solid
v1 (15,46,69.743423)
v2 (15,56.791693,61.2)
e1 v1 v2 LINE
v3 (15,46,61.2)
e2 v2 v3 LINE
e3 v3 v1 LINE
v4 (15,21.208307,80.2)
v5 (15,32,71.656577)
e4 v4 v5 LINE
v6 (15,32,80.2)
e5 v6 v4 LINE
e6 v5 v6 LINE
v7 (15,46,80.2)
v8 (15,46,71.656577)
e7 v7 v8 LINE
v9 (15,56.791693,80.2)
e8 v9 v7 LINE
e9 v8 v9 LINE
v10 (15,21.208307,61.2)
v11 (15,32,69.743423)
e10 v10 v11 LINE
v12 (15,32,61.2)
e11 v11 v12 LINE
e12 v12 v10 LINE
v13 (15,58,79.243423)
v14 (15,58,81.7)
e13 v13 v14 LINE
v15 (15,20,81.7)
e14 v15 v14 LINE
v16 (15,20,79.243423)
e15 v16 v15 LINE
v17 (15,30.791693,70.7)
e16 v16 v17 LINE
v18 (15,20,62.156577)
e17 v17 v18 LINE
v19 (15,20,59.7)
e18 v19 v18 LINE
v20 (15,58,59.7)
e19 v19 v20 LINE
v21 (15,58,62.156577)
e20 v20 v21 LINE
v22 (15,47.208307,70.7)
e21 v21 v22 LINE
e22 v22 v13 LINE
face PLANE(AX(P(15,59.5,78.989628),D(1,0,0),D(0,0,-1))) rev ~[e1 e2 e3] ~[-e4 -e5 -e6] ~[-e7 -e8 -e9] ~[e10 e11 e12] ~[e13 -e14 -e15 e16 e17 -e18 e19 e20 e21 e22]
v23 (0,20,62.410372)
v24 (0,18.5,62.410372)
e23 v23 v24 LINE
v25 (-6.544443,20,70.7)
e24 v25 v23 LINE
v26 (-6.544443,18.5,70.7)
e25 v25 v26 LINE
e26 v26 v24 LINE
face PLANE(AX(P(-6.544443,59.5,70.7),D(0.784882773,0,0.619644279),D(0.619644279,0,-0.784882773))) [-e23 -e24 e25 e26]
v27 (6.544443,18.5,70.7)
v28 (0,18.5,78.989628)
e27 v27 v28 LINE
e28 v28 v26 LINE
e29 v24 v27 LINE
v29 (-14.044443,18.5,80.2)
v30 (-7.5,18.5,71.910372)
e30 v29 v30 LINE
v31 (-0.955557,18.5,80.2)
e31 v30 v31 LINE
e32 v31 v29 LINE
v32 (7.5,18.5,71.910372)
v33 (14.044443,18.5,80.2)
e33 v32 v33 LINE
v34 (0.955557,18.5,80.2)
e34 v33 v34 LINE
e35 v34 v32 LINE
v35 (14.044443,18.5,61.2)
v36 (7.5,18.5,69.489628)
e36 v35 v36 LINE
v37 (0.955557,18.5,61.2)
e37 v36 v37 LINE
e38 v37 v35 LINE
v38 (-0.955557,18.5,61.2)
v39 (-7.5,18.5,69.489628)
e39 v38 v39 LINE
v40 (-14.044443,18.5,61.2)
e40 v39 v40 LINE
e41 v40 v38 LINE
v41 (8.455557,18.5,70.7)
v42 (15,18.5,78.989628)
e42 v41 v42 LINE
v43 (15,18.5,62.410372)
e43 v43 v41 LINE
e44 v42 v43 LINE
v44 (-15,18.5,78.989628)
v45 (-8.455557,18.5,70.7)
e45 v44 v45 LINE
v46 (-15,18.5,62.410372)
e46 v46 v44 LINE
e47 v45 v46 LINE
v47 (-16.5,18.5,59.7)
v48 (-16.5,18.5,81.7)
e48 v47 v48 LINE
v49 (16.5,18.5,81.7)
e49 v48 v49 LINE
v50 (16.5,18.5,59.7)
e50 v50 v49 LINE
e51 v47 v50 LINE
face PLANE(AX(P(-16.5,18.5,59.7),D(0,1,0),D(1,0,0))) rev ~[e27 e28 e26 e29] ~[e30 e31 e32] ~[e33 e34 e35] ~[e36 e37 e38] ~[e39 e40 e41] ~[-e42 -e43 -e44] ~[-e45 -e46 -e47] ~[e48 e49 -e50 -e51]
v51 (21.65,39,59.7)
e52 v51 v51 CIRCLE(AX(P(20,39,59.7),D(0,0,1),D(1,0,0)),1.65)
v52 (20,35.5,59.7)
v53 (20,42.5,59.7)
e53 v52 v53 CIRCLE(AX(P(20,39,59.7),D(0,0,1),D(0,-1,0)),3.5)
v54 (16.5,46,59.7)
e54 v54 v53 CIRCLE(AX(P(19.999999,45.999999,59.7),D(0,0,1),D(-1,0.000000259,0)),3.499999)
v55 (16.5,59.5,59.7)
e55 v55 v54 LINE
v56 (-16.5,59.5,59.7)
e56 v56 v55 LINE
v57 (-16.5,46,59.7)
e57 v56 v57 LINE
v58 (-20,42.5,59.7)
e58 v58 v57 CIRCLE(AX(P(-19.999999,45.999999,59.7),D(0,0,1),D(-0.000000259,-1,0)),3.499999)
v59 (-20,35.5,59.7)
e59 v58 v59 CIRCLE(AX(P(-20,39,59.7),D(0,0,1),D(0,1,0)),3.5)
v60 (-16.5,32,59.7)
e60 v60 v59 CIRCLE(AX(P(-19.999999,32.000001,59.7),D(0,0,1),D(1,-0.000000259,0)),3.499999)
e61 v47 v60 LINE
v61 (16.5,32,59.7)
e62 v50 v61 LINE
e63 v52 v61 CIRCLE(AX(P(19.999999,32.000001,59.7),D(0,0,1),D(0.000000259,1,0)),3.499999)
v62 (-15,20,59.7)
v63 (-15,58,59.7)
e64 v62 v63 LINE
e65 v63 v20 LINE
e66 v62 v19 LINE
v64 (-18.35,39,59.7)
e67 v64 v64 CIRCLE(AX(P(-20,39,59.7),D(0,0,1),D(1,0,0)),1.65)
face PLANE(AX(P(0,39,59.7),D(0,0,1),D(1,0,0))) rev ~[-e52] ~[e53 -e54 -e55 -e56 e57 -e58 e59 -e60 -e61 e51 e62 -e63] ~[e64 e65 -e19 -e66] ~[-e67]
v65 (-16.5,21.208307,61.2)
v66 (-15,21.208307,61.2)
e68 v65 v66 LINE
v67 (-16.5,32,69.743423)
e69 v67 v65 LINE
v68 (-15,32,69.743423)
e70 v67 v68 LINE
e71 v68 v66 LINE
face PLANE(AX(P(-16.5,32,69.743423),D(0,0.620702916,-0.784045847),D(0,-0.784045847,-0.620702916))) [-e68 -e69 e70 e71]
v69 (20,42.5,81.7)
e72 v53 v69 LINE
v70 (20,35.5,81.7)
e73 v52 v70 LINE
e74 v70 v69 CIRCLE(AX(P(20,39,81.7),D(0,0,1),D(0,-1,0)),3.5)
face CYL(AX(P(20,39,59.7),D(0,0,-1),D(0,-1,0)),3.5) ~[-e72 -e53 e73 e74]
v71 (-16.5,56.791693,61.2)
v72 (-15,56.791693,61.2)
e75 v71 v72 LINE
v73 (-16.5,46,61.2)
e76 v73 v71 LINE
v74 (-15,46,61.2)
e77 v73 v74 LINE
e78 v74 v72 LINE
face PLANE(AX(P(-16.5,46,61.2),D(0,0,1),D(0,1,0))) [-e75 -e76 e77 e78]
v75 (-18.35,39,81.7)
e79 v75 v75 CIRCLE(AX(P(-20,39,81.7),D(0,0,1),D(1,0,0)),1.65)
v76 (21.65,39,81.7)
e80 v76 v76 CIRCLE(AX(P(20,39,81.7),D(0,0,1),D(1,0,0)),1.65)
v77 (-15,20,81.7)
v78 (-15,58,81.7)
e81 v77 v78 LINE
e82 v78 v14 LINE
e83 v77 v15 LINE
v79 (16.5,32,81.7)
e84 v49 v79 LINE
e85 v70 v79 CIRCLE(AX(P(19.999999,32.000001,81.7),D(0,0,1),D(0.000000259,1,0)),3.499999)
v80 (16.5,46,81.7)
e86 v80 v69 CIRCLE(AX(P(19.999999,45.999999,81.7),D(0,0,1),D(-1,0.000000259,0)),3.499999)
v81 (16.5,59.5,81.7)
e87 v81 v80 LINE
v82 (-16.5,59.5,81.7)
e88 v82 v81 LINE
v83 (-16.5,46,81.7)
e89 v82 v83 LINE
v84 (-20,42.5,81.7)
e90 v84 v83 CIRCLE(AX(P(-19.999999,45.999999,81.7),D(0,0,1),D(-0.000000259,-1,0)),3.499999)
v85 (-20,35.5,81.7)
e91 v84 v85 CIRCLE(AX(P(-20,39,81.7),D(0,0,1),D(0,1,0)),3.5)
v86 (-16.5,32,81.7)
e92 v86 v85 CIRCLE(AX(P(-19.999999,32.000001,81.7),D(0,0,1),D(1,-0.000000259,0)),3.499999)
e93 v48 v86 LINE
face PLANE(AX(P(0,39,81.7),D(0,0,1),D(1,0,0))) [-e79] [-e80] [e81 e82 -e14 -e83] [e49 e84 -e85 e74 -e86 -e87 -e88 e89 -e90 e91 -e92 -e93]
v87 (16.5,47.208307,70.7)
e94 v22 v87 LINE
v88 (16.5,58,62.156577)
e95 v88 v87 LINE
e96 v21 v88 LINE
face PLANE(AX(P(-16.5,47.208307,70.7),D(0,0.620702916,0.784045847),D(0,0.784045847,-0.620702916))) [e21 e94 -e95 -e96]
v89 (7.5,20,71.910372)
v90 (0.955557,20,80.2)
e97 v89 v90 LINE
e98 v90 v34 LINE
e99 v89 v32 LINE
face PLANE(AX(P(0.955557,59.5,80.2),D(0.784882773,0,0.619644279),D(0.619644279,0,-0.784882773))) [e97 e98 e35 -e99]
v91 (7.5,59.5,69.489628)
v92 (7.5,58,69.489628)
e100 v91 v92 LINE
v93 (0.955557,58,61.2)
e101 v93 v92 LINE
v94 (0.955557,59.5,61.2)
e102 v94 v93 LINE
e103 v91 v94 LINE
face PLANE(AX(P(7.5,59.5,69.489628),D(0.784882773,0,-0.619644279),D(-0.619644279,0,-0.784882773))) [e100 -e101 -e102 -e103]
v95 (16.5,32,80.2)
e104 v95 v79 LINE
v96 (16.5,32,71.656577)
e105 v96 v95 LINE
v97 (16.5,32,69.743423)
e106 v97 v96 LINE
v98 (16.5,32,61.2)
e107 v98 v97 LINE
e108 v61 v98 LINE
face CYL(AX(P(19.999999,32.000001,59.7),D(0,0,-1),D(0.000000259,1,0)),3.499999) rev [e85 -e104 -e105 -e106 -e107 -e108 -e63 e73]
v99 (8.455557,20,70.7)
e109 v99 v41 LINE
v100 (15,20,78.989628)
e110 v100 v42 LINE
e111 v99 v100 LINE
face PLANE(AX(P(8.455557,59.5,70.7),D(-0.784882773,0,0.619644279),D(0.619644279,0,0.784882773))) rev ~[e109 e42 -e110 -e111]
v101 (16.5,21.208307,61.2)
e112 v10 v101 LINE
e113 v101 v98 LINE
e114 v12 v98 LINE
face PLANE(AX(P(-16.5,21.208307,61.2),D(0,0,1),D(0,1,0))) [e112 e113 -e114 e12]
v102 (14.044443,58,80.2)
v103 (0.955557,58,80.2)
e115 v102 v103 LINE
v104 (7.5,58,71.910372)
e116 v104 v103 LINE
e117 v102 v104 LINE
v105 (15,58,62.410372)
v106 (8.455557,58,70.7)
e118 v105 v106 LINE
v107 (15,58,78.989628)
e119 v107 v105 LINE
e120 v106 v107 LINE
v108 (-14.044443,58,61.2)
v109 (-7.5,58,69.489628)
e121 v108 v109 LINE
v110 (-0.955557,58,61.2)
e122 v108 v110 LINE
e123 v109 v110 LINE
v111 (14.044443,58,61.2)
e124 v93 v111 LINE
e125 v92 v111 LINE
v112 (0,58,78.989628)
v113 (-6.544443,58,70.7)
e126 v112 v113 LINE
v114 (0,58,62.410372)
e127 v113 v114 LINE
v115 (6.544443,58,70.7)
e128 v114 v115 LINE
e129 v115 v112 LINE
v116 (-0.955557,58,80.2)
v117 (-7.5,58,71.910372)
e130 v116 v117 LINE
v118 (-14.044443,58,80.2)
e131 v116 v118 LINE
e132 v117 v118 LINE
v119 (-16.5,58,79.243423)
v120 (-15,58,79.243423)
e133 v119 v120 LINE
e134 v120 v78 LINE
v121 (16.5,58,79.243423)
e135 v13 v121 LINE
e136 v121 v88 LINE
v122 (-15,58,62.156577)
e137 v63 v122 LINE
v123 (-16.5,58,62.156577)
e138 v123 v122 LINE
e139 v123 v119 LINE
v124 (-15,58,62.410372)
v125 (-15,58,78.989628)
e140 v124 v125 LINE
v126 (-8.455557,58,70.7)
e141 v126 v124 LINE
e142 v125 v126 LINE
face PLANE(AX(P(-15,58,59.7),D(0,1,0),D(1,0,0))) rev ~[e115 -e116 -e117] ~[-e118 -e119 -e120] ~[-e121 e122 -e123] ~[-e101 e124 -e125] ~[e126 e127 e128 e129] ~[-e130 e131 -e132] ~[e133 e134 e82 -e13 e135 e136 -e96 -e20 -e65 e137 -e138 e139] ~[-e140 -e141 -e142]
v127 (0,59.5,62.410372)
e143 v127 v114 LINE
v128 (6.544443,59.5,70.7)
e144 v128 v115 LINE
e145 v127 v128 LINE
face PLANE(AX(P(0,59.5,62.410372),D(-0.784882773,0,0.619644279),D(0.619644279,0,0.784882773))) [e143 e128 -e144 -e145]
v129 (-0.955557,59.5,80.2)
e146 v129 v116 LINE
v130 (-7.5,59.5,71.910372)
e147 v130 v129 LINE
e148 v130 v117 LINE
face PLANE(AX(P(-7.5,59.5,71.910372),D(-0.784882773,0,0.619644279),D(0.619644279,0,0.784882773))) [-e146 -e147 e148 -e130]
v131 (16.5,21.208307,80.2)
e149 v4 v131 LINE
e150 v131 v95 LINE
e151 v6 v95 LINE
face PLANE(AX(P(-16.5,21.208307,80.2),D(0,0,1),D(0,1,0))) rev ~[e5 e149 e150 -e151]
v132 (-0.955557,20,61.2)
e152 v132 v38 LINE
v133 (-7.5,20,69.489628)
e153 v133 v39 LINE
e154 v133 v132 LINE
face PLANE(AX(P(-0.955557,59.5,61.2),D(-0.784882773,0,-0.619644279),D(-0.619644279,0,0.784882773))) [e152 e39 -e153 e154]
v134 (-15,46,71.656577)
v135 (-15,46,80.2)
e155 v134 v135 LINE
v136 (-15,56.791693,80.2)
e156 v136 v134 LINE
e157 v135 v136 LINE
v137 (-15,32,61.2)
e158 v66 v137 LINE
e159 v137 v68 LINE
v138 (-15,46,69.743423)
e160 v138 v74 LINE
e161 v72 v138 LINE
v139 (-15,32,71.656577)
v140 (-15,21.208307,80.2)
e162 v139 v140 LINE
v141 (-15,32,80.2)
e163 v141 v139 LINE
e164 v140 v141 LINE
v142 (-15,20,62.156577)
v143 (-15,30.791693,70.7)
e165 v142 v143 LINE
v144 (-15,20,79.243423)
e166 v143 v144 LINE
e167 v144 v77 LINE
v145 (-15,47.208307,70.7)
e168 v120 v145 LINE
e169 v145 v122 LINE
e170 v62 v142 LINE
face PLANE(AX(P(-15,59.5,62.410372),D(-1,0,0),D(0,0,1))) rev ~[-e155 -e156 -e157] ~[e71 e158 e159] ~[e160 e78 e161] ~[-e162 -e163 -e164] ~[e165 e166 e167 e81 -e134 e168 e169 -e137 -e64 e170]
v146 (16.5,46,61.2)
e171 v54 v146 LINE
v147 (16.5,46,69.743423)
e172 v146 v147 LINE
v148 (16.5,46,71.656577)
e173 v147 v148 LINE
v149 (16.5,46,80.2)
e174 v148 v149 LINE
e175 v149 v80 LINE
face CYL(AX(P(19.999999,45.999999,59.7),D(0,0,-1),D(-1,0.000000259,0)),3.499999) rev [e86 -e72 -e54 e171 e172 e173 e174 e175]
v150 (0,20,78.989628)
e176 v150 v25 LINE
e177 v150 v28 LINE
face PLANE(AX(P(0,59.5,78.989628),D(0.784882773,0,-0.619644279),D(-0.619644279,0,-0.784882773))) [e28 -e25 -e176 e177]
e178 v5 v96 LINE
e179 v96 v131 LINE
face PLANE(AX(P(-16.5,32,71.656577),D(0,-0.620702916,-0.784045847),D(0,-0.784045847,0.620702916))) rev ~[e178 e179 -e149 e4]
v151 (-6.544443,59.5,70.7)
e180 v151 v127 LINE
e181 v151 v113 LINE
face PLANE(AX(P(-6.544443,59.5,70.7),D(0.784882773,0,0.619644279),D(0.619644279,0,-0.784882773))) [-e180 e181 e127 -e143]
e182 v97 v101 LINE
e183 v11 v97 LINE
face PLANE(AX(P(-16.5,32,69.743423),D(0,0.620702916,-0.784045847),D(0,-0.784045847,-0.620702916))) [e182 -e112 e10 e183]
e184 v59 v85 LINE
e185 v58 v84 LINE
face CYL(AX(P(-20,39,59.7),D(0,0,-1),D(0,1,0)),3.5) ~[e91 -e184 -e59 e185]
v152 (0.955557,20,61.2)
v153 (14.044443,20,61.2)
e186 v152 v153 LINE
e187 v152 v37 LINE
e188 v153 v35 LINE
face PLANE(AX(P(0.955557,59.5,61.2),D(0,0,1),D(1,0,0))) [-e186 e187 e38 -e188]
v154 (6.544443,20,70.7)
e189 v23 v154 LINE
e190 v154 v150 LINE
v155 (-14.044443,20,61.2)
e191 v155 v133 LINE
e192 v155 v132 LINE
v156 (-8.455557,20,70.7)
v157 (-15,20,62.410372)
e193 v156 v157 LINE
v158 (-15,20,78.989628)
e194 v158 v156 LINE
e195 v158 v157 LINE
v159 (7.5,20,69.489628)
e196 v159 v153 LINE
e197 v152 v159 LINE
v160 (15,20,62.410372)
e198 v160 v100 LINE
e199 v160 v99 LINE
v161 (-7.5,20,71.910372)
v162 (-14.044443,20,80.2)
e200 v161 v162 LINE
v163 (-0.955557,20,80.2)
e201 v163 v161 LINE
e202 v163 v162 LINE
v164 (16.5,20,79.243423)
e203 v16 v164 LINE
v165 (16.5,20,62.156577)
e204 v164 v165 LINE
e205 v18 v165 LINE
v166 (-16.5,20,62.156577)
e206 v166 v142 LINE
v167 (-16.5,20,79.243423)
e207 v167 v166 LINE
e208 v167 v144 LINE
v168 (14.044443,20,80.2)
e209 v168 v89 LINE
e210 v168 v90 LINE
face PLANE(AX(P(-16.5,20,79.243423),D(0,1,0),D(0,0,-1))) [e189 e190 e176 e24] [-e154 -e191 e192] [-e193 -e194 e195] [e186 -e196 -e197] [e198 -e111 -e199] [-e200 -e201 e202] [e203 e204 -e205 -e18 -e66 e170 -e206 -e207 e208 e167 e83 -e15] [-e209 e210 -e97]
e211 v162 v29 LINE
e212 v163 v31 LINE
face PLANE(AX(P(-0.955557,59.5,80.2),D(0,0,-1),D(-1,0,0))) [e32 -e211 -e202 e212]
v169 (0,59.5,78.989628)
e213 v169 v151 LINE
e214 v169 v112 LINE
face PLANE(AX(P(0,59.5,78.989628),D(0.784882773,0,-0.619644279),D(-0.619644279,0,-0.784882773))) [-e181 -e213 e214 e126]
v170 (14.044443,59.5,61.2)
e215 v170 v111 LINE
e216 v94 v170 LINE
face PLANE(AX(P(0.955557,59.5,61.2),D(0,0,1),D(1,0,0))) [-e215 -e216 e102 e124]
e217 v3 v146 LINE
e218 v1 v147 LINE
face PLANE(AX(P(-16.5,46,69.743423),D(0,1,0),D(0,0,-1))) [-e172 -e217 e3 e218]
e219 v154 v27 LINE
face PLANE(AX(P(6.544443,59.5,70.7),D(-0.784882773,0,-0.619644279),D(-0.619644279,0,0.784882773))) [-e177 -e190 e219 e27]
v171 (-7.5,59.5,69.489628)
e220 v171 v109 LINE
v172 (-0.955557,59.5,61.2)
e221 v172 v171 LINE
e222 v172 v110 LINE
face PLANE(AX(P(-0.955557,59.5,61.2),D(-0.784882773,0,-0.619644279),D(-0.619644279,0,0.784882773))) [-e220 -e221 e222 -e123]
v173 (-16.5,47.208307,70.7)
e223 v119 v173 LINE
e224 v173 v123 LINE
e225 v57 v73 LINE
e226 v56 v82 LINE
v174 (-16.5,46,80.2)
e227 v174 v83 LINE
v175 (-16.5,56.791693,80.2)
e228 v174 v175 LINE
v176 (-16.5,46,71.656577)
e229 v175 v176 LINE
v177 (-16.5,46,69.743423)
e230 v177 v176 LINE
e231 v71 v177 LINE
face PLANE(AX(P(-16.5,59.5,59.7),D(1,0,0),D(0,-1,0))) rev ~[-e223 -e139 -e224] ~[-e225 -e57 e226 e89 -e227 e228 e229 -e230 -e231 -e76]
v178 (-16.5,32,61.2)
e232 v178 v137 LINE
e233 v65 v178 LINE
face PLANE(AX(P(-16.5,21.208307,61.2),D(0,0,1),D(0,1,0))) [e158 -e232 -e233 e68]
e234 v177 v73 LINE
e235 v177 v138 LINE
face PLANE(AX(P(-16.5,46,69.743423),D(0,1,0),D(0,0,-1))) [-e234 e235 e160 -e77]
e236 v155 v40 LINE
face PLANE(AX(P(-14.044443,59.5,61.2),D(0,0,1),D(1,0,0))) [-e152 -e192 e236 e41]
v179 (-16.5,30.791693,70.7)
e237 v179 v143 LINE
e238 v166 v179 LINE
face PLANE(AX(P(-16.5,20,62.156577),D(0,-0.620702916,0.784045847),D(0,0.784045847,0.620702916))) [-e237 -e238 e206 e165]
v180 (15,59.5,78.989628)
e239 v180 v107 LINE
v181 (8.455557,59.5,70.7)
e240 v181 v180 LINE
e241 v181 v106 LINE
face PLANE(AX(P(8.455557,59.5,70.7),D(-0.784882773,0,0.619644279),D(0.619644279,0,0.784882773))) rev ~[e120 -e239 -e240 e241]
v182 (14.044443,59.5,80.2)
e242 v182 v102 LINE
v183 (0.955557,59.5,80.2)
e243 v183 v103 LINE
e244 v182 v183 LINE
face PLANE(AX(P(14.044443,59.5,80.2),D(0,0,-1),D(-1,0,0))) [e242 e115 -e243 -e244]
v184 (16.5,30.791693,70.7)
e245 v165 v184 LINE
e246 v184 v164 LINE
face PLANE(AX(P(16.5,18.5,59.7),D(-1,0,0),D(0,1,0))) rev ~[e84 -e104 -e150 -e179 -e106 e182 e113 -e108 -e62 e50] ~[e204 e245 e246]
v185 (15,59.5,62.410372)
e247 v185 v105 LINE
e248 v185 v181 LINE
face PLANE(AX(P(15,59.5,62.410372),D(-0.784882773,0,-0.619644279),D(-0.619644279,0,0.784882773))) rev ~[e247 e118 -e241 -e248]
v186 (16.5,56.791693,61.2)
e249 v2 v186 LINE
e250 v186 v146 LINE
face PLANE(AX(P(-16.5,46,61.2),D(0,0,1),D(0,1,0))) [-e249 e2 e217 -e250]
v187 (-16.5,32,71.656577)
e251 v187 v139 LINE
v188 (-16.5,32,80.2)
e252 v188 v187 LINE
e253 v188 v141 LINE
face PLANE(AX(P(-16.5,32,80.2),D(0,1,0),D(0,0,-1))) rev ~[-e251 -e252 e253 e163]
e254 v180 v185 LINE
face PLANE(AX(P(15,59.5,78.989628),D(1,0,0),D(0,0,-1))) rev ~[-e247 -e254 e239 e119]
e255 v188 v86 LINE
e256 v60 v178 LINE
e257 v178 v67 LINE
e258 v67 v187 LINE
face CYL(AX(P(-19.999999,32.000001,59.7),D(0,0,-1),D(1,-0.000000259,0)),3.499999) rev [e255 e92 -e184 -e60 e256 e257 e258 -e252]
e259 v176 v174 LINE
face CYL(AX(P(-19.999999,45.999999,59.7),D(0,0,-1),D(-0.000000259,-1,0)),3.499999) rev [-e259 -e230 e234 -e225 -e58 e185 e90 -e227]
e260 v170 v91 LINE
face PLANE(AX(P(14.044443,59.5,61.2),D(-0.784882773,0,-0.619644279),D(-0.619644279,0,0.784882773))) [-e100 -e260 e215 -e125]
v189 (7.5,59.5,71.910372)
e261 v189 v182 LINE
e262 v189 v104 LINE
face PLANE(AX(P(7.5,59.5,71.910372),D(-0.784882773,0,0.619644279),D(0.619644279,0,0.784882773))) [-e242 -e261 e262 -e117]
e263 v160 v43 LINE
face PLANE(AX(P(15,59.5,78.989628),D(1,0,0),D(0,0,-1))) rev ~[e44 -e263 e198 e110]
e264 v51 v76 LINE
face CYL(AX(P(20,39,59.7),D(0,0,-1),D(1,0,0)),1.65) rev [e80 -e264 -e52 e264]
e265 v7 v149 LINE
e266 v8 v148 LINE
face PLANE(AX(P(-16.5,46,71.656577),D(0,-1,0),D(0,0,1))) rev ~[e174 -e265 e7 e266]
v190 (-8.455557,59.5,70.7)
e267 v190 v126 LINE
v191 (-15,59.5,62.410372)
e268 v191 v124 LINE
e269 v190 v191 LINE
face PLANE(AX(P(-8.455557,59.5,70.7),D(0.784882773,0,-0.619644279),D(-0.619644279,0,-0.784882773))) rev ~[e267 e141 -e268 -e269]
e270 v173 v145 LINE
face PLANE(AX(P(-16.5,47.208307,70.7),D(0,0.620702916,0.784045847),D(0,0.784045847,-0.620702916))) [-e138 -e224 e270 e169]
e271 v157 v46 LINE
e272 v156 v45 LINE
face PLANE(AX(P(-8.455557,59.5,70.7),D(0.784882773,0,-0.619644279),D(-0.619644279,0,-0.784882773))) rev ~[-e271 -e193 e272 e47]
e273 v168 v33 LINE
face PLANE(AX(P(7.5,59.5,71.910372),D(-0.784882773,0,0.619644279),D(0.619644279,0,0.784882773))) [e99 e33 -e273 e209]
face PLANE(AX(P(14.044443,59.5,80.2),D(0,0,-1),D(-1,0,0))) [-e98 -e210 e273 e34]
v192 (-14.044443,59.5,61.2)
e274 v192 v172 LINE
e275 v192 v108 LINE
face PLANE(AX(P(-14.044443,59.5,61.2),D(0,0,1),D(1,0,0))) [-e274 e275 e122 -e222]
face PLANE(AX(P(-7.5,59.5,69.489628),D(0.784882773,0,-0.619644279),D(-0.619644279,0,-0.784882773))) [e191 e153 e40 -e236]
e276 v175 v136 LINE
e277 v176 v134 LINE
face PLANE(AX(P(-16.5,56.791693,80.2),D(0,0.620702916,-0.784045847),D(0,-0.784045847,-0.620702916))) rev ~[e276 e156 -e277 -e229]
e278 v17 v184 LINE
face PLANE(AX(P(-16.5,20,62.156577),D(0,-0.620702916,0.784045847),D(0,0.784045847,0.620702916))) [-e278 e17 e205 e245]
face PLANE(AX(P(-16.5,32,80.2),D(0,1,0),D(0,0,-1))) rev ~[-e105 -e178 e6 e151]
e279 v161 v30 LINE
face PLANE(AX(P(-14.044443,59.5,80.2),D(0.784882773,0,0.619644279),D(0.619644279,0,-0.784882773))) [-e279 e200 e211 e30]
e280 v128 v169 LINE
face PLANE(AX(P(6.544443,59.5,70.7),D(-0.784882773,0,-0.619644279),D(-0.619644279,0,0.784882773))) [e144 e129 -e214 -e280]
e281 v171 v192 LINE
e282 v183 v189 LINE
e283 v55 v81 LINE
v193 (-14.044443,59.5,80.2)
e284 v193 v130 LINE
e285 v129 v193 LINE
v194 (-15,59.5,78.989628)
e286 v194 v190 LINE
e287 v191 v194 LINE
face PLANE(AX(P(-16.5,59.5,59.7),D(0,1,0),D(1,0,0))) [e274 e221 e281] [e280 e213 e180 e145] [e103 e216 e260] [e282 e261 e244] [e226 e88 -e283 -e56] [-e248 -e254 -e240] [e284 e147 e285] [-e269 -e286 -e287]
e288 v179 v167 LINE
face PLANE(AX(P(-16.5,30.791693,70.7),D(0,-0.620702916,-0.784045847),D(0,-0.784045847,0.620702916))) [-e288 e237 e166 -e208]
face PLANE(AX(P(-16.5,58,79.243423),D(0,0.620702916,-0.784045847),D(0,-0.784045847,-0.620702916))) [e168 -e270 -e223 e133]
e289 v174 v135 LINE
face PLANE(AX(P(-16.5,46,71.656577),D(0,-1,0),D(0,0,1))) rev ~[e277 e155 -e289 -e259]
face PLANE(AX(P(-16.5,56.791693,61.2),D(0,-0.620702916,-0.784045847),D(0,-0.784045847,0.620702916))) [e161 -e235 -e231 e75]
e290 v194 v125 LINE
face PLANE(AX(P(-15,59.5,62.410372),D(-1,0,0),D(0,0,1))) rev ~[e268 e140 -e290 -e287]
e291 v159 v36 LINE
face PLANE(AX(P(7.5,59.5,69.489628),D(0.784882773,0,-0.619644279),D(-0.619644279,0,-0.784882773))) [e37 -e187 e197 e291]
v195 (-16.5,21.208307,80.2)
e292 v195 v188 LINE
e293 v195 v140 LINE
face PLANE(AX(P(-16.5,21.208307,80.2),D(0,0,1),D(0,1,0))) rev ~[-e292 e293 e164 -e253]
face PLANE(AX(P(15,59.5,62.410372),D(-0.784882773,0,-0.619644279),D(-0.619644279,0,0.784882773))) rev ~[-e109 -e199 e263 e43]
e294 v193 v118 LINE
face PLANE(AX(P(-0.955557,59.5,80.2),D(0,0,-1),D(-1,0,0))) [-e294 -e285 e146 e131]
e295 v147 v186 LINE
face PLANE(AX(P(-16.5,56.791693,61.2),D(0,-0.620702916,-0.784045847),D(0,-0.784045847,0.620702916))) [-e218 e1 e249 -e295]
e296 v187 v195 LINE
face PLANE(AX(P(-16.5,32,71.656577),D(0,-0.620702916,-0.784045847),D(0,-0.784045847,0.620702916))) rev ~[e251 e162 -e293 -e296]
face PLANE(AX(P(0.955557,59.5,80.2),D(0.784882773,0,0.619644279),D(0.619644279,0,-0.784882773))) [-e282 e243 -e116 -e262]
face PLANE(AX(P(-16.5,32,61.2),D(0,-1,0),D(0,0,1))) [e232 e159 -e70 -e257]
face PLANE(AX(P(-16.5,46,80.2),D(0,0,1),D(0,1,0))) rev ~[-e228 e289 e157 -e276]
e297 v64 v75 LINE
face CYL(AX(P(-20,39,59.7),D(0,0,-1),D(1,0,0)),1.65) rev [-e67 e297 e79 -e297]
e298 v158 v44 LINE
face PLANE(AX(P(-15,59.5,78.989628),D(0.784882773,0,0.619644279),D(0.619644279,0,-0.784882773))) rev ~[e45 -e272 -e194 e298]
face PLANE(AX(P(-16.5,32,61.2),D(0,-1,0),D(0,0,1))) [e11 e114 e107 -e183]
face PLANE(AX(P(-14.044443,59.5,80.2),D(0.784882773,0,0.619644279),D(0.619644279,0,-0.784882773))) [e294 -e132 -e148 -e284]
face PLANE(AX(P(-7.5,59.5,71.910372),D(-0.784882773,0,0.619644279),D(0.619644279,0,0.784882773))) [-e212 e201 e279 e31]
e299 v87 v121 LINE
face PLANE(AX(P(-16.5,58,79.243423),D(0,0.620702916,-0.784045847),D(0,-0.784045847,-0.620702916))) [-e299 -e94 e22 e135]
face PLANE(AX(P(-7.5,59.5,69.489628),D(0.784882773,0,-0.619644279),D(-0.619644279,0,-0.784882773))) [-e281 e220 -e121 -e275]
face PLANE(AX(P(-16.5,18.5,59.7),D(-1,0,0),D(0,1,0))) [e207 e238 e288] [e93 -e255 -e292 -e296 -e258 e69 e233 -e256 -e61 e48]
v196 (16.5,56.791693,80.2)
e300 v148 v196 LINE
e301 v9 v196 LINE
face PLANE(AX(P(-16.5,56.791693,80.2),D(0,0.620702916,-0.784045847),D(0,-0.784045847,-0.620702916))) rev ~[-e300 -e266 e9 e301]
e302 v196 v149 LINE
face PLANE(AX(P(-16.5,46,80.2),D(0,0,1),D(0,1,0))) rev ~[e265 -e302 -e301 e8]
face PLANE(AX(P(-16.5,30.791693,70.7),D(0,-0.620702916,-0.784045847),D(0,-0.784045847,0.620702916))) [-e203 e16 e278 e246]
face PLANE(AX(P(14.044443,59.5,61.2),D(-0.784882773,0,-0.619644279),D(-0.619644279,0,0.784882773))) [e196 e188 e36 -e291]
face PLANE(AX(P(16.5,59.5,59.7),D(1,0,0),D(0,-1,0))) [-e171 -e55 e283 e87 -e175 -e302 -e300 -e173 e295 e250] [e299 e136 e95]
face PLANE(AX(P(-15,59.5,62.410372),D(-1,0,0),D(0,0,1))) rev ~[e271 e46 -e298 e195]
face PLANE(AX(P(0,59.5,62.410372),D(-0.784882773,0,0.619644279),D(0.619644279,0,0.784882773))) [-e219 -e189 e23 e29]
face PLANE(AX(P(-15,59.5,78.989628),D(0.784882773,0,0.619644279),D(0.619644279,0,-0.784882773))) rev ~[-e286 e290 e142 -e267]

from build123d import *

# Parameters (mm, degrees)
SKETCH017_R     = 1.65
SKETCH017_W     = 30
SKETCH017_H     = 38
PAD012_DEPTH    = 22
POCKET057_DEPTH = 41.001
POCKET058_DEPTH = 40.001


with BuildPart() as part:
    # Sketch017 → Pad012 (new body)
    with BuildSketch(Plane.XY):
        with BuildLine():
            Line((-16.5, 18.5), (16.5, 18.5))
            Line((16.5, 18.5), (16.5, 32))
            ThreePointArc((20, 35.5), (17.525126, 34.474874), (16.5, 32))
            ThreePointArc((20, 35.5), (23.5, 39), (20, 42.5))
            ThreePointArc((16.5, 46), (17.525126, 43.525126), (20, 42.5))
            Line((16.5, 59.5), (16.5, 46))
            Line((-16.5, 59.5), (16.5, 59.5))
            Line((-16.5, 59.5), (-16.5, 46))
            ThreePointArc((-20, 42.5), (-17.525126, 43.525126), (-16.5, 46))
            ThreePointArc((-20, 42.5), (-23.5, 39), (-20, 35.5))
            ThreePointArc((-16.5, 32), (-17.525126, 34.474874), (-20, 35.5))
            Line((-16.5, 18.5), (-16.5, 32))
        make_face()
        with Locations((-20, 39)):
            Circle(SKETCH017_R, mode=Mode.SUBTRACT)
        with Locations((20, 39)):
            Circle(SKETCH017_R, mode=Mode.SUBTRACT)
        with Locations((0, 39)):
            Rectangle(SKETCH017_W, SKETCH017_H, mode=Mode.SUBTRACT)
    extrude(amount=PAD012_DEPTH)

    # Sketch111 (on Face7 of Pad012) → Pocket057 (cut, through all)
    with BuildSketch(Plane(origin=(0, 59.5, 0), x_dir=(-1, 0, 0), z_dir=(0, 1, 0))):
        Polygon((-15, 2.710372), (-8.455557, 11), (-15, 19.289628), align=None)
        Polygon((-14.044443, 1.5), (-7.5, 9.789628), (-0.955557, 1.5), align=None)
        Polygon((-14.044443, 20.5), (-0.955557, 20.5), (-7.5, 12.210372), align=None)
        Polygon((-6.544443, 11), (0, 19.289628), (6.544443, 11), (0, 2.710372), align=None)
        Polygon((0.955557, 1.5), (7.5, 9.789628), (14.044443, 1.5), align=None)
        Polygon((8.455557, 11), (15, 2.710372), (15, 19.289628), align=None)
        Polygon((7.5, 12.210372), (0.955557, 20.5), (14.044443, 20.5), align=None)
    extrude(amount=-POCKET057_DEPTH, mode=Mode.SUBTRACT)

    # Sketch112 (on Face2 of Pocket057) → Pocket058 (cut, through all)
    with BuildSketch(Plane(origin=(-16.5, 0, 0), x_dir=(0, -1, 0), z_dir=(-1, 0, 0))):
        Polygon((-56.791693, 1.5), (-46, 10.043423), (-46, 1.5), align=None)
        Polygon((-58, 2.456577), (-58, 19.543423), (-47.208307, 11), align=None)
        Polygon((-32, 1.5), (-32, 10.043423), (-21.208307, 1.5), align=None)
        Polygon((-32, 20.5), (-32, 11.956577), (-21.208307, 20.5), align=None)
        Polygon((-30.791693, 11), (-20, 19.543423), (-20, 2.456577), align=None)
        Polygon((-46, 11.956577), (-46, 20.5), (-56.791693, 20.5), align=None)
    extrude(amount=-POCKET058_DEPTH, mode=Mode.SUBTRACT)


with BuildPart() as part_1:
    # Body011 placement: moved
    add(part.part.moved(Location((0, 0, 59.7))))


solid = part_1.part
